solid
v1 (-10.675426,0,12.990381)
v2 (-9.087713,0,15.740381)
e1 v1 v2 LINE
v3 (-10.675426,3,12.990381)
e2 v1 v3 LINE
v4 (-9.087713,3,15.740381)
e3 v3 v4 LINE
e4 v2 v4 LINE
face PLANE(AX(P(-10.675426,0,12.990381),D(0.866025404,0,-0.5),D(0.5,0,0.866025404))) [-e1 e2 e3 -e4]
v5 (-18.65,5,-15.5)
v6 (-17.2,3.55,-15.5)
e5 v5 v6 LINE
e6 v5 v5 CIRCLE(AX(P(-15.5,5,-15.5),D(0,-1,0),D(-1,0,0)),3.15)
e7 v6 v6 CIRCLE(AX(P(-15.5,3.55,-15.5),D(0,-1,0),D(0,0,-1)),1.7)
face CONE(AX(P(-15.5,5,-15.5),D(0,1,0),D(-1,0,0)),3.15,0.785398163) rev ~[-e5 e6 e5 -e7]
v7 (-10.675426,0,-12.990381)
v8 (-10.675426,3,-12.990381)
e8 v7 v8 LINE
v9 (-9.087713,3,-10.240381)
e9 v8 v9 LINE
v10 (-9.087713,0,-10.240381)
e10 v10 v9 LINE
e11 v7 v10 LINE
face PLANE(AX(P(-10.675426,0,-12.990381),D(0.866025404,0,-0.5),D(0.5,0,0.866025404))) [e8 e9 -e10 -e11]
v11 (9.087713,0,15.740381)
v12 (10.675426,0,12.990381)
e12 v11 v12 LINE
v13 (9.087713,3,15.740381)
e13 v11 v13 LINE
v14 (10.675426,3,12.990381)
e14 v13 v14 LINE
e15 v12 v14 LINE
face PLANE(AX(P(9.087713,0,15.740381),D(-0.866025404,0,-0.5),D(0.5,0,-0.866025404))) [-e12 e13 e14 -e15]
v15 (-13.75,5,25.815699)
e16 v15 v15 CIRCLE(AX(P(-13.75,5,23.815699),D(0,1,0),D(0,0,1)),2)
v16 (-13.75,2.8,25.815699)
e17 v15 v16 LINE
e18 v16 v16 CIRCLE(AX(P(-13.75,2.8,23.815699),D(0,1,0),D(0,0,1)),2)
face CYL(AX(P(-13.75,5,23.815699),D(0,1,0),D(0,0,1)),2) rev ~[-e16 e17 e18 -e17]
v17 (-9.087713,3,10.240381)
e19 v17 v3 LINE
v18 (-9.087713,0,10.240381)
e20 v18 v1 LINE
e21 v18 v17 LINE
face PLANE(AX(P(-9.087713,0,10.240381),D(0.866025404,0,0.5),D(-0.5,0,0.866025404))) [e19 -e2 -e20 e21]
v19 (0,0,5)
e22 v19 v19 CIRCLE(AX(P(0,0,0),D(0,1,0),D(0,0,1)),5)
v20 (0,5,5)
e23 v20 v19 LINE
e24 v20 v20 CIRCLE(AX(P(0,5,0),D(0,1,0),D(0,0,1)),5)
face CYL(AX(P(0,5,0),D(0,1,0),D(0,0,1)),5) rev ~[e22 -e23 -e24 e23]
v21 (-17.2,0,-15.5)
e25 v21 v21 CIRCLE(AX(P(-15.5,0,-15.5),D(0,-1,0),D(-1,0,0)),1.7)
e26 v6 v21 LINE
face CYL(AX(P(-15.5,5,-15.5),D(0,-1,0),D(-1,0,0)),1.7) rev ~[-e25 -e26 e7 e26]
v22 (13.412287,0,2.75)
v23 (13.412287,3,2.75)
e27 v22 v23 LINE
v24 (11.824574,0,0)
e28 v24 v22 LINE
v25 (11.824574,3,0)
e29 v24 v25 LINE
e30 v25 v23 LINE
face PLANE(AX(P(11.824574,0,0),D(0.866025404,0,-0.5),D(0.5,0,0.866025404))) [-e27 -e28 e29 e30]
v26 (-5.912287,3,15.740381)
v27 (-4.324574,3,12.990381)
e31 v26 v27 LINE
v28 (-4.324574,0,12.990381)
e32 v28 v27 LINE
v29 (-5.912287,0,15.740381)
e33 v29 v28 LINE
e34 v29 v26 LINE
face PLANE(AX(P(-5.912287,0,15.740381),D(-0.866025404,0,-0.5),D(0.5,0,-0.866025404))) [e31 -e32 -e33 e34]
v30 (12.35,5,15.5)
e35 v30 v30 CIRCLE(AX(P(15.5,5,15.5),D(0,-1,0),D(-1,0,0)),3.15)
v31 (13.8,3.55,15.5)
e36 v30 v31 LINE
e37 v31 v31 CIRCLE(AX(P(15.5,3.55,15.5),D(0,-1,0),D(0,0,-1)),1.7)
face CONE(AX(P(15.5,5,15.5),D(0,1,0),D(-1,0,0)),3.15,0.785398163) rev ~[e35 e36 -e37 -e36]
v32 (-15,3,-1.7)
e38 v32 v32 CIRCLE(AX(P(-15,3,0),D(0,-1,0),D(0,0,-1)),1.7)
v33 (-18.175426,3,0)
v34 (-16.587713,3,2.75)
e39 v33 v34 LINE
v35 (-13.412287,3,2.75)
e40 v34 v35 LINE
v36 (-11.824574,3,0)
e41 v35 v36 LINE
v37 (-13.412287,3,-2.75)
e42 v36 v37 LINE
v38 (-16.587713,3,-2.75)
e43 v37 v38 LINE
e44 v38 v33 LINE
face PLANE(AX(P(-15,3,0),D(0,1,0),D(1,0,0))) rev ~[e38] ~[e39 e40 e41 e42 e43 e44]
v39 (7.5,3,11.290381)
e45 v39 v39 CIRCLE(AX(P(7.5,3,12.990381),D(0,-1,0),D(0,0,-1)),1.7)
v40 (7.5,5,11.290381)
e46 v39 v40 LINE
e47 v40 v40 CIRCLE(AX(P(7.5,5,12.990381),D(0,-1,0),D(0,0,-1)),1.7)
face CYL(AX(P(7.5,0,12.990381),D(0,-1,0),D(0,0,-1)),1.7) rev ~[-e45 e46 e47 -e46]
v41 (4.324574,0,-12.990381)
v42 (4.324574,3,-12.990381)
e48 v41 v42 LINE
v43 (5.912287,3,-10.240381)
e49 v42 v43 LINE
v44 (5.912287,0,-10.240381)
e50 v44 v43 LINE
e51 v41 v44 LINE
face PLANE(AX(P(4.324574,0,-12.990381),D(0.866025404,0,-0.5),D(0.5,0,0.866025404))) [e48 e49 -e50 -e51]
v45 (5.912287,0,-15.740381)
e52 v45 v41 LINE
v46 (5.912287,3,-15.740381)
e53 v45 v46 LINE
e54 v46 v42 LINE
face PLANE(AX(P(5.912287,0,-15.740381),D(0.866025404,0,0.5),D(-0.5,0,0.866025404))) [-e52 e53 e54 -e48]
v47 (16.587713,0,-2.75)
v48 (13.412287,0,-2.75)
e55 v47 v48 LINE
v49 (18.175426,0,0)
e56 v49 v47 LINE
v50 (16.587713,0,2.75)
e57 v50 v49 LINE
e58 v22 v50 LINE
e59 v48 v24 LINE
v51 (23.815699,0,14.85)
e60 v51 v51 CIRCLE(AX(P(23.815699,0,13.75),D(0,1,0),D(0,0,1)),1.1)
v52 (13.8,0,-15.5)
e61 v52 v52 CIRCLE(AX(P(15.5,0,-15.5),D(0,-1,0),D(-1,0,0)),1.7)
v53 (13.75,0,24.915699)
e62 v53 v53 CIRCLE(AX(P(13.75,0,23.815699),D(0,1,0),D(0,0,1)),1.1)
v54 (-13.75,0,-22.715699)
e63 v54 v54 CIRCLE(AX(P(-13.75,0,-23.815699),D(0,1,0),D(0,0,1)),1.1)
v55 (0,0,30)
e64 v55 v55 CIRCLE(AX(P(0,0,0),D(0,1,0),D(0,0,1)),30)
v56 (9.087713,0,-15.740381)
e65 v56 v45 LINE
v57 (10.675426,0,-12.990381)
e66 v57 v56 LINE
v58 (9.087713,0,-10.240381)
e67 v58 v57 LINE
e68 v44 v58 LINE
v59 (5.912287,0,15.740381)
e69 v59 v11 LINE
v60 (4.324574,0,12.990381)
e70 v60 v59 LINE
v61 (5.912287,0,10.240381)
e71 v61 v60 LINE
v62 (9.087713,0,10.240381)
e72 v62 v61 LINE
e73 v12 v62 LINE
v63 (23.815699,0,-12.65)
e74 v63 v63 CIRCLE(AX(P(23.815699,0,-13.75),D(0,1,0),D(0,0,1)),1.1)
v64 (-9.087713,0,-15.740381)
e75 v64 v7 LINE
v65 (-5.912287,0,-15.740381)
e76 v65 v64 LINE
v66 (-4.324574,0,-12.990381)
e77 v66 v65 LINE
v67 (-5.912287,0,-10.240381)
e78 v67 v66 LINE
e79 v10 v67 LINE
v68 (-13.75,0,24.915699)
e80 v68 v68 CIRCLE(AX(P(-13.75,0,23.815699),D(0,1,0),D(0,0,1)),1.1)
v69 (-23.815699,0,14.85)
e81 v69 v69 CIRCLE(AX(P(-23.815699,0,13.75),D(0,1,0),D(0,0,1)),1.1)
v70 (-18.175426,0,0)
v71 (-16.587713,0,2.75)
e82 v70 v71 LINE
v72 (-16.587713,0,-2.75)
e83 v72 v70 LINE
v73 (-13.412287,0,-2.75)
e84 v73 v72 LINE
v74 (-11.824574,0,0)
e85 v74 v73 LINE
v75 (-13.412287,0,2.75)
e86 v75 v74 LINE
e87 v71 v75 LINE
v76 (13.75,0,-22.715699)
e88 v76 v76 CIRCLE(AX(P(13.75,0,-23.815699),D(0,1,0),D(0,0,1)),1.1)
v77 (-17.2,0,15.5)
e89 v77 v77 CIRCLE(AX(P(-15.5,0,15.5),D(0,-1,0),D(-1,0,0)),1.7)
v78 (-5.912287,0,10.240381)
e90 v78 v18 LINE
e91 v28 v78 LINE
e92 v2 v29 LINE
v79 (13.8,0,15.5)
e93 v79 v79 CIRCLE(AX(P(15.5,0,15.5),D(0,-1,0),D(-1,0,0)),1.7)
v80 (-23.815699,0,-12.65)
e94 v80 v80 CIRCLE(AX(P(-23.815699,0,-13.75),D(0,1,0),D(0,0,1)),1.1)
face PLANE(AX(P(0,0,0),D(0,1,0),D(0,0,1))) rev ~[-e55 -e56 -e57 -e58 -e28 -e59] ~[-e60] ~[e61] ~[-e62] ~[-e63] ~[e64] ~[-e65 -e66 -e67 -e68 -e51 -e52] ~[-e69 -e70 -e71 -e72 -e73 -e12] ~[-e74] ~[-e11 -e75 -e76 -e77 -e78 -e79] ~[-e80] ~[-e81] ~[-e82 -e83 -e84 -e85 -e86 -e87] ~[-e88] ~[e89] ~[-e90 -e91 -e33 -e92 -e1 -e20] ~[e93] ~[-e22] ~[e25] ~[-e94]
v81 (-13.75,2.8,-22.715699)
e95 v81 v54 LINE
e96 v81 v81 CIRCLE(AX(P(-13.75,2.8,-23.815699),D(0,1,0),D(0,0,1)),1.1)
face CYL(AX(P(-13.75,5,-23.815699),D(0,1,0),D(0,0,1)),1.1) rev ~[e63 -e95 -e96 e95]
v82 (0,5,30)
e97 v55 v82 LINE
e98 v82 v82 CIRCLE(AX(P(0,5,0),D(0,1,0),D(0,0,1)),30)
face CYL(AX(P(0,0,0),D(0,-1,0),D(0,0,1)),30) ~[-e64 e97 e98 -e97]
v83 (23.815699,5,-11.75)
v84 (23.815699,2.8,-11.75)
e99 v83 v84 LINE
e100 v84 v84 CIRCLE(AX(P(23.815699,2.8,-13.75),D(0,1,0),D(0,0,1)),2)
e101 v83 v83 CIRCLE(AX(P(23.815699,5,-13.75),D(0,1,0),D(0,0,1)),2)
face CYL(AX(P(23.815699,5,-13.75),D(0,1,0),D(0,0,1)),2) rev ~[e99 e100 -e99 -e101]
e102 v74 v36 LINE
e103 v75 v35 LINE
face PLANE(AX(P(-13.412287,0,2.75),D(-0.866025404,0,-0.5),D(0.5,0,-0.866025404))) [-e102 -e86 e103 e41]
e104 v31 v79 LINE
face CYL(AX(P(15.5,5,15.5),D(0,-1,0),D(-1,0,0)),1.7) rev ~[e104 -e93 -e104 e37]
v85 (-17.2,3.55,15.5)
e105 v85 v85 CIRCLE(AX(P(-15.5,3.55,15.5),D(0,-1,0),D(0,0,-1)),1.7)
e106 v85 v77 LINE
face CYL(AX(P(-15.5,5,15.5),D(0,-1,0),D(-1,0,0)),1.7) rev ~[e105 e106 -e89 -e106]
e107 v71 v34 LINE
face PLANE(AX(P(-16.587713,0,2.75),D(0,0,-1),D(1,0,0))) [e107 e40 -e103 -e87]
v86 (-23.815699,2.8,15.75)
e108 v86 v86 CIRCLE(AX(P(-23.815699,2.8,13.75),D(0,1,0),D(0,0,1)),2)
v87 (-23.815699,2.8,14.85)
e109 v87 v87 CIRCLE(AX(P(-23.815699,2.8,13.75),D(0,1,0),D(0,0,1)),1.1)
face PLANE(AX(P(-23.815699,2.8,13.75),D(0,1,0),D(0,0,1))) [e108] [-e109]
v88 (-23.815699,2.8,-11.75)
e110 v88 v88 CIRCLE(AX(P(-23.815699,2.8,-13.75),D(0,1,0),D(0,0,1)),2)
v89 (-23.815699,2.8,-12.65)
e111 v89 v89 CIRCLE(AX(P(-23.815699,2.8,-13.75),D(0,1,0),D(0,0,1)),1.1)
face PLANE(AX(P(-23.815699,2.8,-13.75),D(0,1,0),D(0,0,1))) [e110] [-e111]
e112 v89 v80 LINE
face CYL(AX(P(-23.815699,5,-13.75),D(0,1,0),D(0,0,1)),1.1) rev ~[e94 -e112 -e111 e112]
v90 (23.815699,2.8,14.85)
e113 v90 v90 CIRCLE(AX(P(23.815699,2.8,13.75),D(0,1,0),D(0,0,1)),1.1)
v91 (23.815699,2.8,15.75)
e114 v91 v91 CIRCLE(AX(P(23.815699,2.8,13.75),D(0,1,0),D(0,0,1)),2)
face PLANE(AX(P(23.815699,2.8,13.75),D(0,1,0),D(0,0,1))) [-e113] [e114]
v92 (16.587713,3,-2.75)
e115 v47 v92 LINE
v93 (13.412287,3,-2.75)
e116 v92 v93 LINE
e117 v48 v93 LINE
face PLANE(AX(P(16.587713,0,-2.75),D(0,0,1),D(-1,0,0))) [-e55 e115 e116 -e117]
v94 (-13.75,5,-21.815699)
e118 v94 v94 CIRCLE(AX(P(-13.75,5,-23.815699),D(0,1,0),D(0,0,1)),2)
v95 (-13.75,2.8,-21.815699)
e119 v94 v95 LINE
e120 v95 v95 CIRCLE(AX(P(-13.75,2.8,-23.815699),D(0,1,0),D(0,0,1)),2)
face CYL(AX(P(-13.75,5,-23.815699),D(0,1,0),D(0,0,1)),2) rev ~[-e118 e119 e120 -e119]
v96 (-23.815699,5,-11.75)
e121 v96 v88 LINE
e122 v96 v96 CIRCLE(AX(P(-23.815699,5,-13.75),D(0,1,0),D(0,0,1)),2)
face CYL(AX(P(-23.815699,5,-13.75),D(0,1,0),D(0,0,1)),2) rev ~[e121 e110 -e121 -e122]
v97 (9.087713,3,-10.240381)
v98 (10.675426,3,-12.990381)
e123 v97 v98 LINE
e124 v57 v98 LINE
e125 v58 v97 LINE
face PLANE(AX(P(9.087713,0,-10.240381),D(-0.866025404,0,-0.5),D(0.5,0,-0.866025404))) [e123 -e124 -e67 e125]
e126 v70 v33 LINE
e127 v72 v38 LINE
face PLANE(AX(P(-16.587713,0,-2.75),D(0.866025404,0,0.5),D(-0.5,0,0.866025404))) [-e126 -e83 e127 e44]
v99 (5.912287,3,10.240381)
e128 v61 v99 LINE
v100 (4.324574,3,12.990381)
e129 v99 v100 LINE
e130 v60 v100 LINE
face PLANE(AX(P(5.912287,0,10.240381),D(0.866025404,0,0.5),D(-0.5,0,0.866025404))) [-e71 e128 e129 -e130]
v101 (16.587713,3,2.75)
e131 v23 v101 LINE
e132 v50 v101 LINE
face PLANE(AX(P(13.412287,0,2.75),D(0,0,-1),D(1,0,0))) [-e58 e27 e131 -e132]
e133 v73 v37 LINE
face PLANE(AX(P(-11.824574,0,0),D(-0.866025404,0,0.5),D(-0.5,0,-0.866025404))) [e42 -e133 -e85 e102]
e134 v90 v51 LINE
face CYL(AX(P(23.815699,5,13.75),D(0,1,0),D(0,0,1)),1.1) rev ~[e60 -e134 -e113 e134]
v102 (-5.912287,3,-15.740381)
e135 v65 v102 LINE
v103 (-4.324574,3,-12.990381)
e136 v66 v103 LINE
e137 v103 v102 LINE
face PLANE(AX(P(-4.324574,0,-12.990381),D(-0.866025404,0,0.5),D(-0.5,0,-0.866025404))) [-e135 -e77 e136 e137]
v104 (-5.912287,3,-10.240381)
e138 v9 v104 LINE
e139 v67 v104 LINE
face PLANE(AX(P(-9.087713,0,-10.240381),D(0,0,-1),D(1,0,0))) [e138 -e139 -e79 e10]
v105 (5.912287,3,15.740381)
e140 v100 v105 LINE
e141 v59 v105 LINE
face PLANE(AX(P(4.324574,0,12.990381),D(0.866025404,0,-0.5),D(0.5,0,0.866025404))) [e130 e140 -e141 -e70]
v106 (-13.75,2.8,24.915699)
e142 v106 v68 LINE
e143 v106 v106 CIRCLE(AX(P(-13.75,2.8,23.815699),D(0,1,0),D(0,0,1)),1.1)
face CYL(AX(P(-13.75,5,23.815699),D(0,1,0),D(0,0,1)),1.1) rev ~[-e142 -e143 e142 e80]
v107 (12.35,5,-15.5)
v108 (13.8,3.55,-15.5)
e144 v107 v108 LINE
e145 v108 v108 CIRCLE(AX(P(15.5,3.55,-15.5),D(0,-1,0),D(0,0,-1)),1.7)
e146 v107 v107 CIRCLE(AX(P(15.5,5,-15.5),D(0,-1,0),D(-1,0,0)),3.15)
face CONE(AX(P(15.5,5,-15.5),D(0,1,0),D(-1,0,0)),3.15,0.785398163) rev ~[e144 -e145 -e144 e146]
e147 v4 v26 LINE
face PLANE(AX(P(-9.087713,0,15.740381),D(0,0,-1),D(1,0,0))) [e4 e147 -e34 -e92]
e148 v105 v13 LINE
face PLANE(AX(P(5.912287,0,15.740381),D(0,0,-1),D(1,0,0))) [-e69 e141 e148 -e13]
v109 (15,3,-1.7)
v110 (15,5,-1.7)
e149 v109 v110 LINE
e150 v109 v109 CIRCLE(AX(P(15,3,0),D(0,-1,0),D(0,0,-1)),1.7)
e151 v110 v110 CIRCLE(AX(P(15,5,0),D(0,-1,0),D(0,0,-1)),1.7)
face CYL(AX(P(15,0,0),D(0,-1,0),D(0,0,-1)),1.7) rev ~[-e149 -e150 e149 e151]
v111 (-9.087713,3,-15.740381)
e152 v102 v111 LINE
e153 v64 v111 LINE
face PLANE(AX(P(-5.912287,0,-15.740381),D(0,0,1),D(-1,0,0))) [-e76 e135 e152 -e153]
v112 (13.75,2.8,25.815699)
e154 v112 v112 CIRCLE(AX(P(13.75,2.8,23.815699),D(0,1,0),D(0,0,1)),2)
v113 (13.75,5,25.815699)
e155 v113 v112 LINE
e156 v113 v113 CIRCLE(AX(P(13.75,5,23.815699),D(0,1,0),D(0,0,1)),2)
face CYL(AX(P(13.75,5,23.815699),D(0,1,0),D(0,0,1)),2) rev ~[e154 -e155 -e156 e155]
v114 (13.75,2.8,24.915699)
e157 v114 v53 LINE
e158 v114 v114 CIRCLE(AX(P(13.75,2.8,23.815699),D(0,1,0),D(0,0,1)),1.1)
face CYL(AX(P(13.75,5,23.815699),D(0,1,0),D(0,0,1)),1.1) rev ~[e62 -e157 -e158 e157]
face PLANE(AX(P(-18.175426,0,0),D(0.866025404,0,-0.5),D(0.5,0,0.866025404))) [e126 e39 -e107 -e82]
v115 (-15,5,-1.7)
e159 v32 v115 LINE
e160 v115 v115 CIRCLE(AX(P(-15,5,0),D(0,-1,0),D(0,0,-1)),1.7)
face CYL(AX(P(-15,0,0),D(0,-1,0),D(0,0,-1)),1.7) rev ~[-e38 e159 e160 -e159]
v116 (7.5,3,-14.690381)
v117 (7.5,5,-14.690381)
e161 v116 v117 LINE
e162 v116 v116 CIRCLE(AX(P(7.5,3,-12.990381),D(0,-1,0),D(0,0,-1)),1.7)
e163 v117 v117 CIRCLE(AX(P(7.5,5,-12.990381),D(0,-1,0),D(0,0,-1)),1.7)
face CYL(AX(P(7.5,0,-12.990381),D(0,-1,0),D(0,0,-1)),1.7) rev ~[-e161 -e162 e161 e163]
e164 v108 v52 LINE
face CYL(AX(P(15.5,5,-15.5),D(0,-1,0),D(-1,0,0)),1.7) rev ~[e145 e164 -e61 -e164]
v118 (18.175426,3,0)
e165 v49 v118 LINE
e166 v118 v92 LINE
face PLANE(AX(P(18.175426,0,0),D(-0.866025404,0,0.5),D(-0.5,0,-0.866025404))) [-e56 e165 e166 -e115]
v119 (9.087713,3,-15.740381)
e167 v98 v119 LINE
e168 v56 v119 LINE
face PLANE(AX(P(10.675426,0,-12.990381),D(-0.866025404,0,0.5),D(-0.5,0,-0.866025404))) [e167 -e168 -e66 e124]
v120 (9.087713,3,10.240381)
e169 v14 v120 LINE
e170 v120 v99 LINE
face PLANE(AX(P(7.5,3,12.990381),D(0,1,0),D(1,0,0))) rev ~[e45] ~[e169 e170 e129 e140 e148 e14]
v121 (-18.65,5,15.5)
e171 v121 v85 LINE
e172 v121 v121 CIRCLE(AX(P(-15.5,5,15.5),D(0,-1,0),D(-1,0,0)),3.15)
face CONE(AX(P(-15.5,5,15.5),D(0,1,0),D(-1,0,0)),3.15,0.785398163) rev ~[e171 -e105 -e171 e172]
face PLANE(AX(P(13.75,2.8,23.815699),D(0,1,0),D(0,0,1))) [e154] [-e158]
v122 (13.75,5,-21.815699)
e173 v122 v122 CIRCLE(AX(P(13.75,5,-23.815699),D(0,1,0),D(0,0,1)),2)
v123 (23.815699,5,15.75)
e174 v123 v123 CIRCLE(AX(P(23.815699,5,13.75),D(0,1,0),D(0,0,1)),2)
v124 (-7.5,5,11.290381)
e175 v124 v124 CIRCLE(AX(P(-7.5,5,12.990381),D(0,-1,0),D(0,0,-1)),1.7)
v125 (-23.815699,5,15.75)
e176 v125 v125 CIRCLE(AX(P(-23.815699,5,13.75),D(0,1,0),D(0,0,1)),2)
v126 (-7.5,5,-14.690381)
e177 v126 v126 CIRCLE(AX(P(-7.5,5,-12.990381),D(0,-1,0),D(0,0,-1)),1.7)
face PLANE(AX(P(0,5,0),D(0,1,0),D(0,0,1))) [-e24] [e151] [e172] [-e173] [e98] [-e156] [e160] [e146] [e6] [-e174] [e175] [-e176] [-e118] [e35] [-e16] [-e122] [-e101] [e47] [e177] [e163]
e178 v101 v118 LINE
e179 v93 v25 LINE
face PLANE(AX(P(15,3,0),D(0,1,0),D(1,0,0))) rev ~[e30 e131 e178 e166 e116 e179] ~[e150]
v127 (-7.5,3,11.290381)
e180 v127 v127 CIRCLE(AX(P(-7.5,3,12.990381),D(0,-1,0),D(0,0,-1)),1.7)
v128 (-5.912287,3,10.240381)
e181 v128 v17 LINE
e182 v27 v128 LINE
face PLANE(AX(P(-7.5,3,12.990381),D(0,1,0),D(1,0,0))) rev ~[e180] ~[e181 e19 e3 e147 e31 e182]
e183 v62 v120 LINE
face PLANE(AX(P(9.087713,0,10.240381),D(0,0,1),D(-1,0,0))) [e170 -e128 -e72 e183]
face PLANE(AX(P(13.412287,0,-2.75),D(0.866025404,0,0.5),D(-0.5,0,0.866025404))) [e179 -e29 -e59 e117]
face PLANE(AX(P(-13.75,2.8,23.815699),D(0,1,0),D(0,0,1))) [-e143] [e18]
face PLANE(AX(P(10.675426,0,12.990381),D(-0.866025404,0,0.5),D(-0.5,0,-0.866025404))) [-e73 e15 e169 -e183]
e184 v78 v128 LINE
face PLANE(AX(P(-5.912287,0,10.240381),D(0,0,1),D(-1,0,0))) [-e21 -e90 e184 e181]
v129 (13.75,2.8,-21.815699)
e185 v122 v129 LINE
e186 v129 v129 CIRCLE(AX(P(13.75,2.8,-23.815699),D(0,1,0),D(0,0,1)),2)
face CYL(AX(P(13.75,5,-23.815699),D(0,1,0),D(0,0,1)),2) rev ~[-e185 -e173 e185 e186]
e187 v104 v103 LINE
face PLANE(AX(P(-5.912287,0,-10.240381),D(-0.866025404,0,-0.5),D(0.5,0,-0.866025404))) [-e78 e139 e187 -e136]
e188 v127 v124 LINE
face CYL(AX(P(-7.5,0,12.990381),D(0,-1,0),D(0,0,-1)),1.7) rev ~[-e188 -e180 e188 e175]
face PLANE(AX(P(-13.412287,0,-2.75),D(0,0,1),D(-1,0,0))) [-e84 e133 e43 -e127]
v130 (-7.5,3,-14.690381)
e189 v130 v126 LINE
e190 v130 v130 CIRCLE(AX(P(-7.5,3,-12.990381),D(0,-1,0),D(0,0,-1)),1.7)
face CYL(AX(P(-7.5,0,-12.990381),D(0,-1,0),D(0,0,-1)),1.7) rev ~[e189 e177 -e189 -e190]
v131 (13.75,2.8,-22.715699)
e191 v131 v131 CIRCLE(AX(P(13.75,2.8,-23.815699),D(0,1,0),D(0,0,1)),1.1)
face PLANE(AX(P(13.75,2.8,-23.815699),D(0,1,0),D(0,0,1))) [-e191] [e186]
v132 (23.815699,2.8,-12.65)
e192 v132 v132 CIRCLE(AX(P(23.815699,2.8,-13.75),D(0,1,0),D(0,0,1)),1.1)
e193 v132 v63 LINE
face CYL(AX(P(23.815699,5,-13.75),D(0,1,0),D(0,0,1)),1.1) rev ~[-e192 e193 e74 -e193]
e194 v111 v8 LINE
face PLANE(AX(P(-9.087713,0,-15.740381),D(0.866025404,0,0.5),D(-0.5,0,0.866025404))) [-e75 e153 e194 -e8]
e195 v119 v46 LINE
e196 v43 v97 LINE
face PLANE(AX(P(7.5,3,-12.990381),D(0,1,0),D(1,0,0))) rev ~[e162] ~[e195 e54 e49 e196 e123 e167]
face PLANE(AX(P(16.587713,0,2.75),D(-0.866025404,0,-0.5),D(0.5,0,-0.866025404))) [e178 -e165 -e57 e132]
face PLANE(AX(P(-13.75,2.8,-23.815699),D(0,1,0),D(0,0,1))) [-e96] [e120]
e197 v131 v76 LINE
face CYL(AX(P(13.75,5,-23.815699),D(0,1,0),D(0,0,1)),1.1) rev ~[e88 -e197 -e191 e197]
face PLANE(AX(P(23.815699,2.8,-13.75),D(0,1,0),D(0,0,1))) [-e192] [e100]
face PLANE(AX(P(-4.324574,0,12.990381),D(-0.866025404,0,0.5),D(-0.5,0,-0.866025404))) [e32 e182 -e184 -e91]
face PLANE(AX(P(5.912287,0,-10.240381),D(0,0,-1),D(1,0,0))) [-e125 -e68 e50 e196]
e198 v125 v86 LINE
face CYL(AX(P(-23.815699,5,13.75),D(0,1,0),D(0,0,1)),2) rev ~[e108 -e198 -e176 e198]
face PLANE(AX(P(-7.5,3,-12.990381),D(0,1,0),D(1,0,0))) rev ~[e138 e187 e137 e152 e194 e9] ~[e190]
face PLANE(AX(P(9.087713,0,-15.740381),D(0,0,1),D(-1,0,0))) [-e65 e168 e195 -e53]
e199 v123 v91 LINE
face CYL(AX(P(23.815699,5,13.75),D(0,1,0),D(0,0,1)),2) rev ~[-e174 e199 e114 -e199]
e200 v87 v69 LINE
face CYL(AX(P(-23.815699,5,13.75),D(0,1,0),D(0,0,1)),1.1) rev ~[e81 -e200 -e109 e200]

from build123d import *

# Parameters (mm, degrees)
SKETCH1_R                                       = 30
BOSS_EXTRUDE1_DEPTH                             = 5
CSK_FOR_M3_FLAT_HEAD_MACHINE_SCREW1_D           = 3.4
CSK_FOR_M3_FLAT_HEAD_MACHINE_SCREW1_CSINK_D     = 6.3
CSK_FOR_M3_FLAT_HEAD_MACHINE_SCREW1_CSINK_ANGLE = 90
CUT_EXTRUDE1_REACH                              = 44.72
SKETCH4_R                                       = 1.1
CUT_EXTRUDE2_REACH                              = 44.72
SKETCH5_R                                       = 5
SKETCH7_R                                       = 2
CUT_EXTRUDE3_DEPTH                              = 2.2
CUT_EXTRUDE4_DEPTH                              = 3
SKETCH9_R                                       = 1.7
CUT_EXTRUDE5_DEPTH                              = 43.720018727


with BuildPart() as part:
    # Sketch1 → Boss-Extrude1 (new body)
    with BuildSketch(Plane(origin=(0, 0, 0), x_dir=(1, 0, 0), z_dir=(0, 1, 0))):
        with Locations(Location((0, 0, 0), (0, 0, 270))):
            Circle(SKETCH1_R)
    extrude(amount=BOSS_EXTRUDE1_DEPTH)

    # CSK for M3 Flat Head Machine Screw1 (through all)
    with Locations(Plane(origin=(0, 5, 0), x_dir=(1, 0, 0), z_dir=(0, 1, 0))):
        with Locations((-15.5, -15.5), (15.5, 15.5), (-15.5, 15.5), (15.5, -15.5)):
            CounterSinkHole(CSK_FOR_M3_FLAT_HEAD_MACHINE_SCREW1_D / 2, CSK_FOR_M3_FLAT_HEAD_MACHINE_SCREW1_CSINK_D / 2, counter_sink_angle=CSK_FOR_M3_FLAT_HEAD_MACHINE_SCREW1_CSINK_ANGLE)

    # Sketch4 → Cut-Extrude1 (cut, up to next)
    with BuildSketch(Plane(origin=(0, 5, 0), x_dir=(1, 0, 0), z_dir=(0, 1, 0)), mode=Mode.PRIVATE) as cut_extrude1_sk1:
        with Locations(Location((-13.75, 23.815698604, 0), (0, 0, 270))):
            Circle(SKETCH4_R)
    cut_extrude1_tool1 = extrude(cut_extrude1_sk1.sketch, amount=-CUT_EXTRUDE1_REACH, mode=Mode.PRIVATE) & part.part
    # Sketch4 → Cut-Extrude1 (cut, up to next)
    with BuildSketch(Plane(origin=(0, 5, 0), x_dir=(1, 0, 0), z_dir=(0, 1, 0)), mode=Mode.PRIVATE) as cut_extrude1_sk2:
        with Locations(Location((-23.815698604, 13.75, 0), (0, 0, 270))):
            Circle(SKETCH4_R)
    cut_extrude1_tool2 = extrude(cut_extrude1_sk2.sketch, amount=-CUT_EXTRUDE1_REACH, mode=Mode.PRIVATE) & part.part
    # Sketch4 → Cut-Extrude1 (cut, up to next)
    with BuildSketch(Plane(origin=(0, 5, 0), x_dir=(1, 0, 0), z_dir=(0, 1, 0)), mode=Mode.PRIVATE) as cut_extrude1_sk3:
        with Locations(Location((13.75, 23.815698604, 0), (0, 0, 270))):
            Circle(SKETCH4_R)
    cut_extrude1_tool3 = extrude(cut_extrude1_sk3.sketch, amount=-CUT_EXTRUDE1_REACH, mode=Mode.PRIVATE) & part.part
    # Sketch4 → Cut-Extrude1 (cut, up to next)
    with BuildSketch(Plane(origin=(0, 5, 0), x_dir=(1, 0, 0), z_dir=(0, 1, 0)), mode=Mode.PRIVATE) as cut_extrude1_sk4:
        with Locations(Location((23.815698604, 13.75, 0), (0, 0, 270))):
            Circle(SKETCH4_R)
    cut_extrude1_tool4 = extrude(cut_extrude1_sk4.sketch, amount=-CUT_EXTRUDE1_REACH, mode=Mode.PRIVATE) & part.part
    # Sketch4 → Cut-Extrude1 (cut, up to next)
    with BuildSketch(Plane(origin=(0, 5, 0), x_dir=(1, 0, 0), z_dir=(0, 1, 0)), mode=Mode.PRIVATE) as cut_extrude1_sk5:
        with Locations(Location((23.815698604, -13.75, 0), (0, 0, 270))):
            Circle(SKETCH4_R)
    cut_extrude1_tool5 = extrude(cut_extrude1_sk5.sketch, amount=-CUT_EXTRUDE1_REACH, mode=Mode.PRIVATE) & part.part
    # Sketch4 → Cut-Extrude1 (cut, up to next)
    with BuildSketch(Plane(origin=(0, 5, 0), x_dir=(1, 0, 0), z_dir=(0, 1, 0)), mode=Mode.PRIVATE) as cut_extrude1_sk6:
        with Locations(Location((13.75, -23.815698604, 0), (0, 0, 270))):
            Circle(SKETCH4_R)
    cut_extrude1_tool6 = extrude(cut_extrude1_sk6.sketch, amount=-CUT_EXTRUDE1_REACH, mode=Mode.PRIVATE) & part.part
    # Sketch4 → Cut-Extrude1 (cut, up to next)
    with BuildSketch(Plane(origin=(0, 5, 0), x_dir=(1, 0, 0), z_dir=(0, 1, 0)), mode=Mode.PRIVATE) as cut_extrude1_sk7:
        with Locations(Location((-13.75, -23.815698604, 0), (0, 0, 270))):
            Circle(SKETCH4_R)
    cut_extrude1_tool7 = extrude(cut_extrude1_sk7.sketch, amount=-CUT_EXTRUDE1_REACH, mode=Mode.PRIVATE) & part.part
    # Sketch4 → Cut-Extrude1 (cut, up to next)
    with BuildSketch(Plane(origin=(0, 5, 0), x_dir=(1, 0, 0), z_dir=(0, 1, 0)), mode=Mode.PRIVATE) as cut_extrude1_sk8:
        with Locations(Location((-23.815698604, -13.75, 0), (0, 0, 270))):
            Circle(SKETCH4_R)
    cut_extrude1_tool8 = extrude(cut_extrude1_sk8.sketch, amount=-CUT_EXTRUDE1_REACH, mode=Mode.PRIVATE) & part.part
    add(cut_extrude1_tool1.solids().sort_by_distance((-13.75, 5, -23.815699))[0], mode=Mode.SUBTRACT)
    add(cut_extrude1_tool2.solids().sort_by_distance((-23.815699, 5, -13.75))[0], mode=Mode.SUBTRACT)
    add(cut_extrude1_tool3.solids().sort_by_distance((13.75, 5, -23.815699))[0], mode=Mode.SUBTRACT)
    add(cut_extrude1_tool4.solids().sort_by_distance((23.815699, 5, -13.75))[0], mode=Mode.SUBTRACT)
    add(cut_extrude1_tool5.solids().sort_by_distance((23.815699, 5, 13.75))[0], mode=Mode.SUBTRACT)
    add(cut_extrude1_tool6.solids().sort_by_distance((13.75, 5, 23.815699))[0], mode=Mode.SUBTRACT)
    add(cut_extrude1_tool7.solids().sort_by_distance((-13.75, 5, 23.815699))[0], mode=Mode.SUBTRACT)
    add(cut_extrude1_tool8.solids().sort_by_distance((-23.815699, 5, 13.75))[0], mode=Mode.SUBTRACT)

    # Sketch5 → Cut-Extrude2 (cut, up to next)
    with BuildSketch(Plane(origin=(0, 5, 0), x_dir=(1, 0, 0), z_dir=(0, 1, 0)), mode=Mode.PRIVATE) as cut_extrude2_sk1:
        with Locations(Location((0, 0, 0), (0, 0, 270))):
            Circle(SKETCH5_R)
    cut_extrude2_tool1 = extrude(cut_extrude2_sk1.sketch, amount=-CUT_EXTRUDE2_REACH, mode=Mode.PRIVATE) & part.part
    add(cut_extrude2_tool1.solids().sort_by_distance((0, 5, 0))[0], mode=Mode.SUBTRACT)

    # Sketch7 → Cut-Extrude3 (cut)
    with BuildSketch(Plane(origin=(0, 5, 0), x_dir=(1, 0, 0), z_dir=(0, 1, 0))):
        with Locations(Location((-13.75, 23.815698604, 0), (0, 0, 270))):
            Circle(SKETCH7_R)
        with Locations(Location((-23.815698604, 13.75, 0), (0, 0, 270))):
            Circle(SKETCH7_R)
        with Locations(Location((13.75, 23.815698604, 0), (0, 0, 270))):
            Circle(SKETCH7_R)
        with Locations(Location((23.815698604, 13.75, 0), (0, 0, 270))):
            Circle(SKETCH7_R)
        with Locations(Location((23.815698604, -13.75, 0), (0, 0, 270))):
            Circle(SKETCH7_R)
        with Locations(Location((13.75, -23.815698604, 0), (0, 0, 270))):
            Circle(SKETCH7_R)
        with Locations(Location((-13.75, -23.815698604, 0), (0, 0, 270))):
            Circle(SKETCH7_R)
        with Locations(Location((-23.815698604, -13.75, 0), (0, 0, 270))):
            Circle(SKETCH7_R)
    extrude(amount=-CUT_EXTRUDE3_DEPTH, mode=Mode.SUBTRACT)

    # Sketch8 → Cut-Extrude4 (cut)
    with BuildSketch(Plane(origin=(0, 0, 0), x_dir=(1, 0, 0), z_dir=(0, 1, 0))):
        Polygon((-9.08771324, 15.740381057), (-10.675426481, 12.990381057), (-9.08771324, 10.240381057), (-5.91228676, 10.240381057), (-4.324573519, 12.990381057), (-5.91228676, 15.740381057), align=None)
        Polygon((-18.175426481, 0), (-16.58771324, -2.75), (-13.41228676, -2.75), (-11.824573519, 0), (-13.41228676, 2.75), (-16.58771324, 2.75), align=None)
        Polygon((9.08771324, 15.740381057), (5.91228676, 15.740381057), (4.324573519, 12.990381057), (5.91228676, 10.240381057), (9.08771324, 10.240381057), (10.675426481, 12.990381057), align=None)
        Polygon((18.175426481, 0), (16.58771324, 2.75), (13.41228676, 2.75), (11.824573519, 0), (13.41228676, -2.75), (16.58771324, -2.75), align=None)
        Polygon((9.08771324, -15.740381057), (10.675426481, -12.990381057), (9.08771324, -10.240381057), (5.91228676, -10.240381057), (4.324573519, -12.990381057), (5.91228676, -15.740381057), align=None)
        Polygon((-9.08771324, -15.740381057), (-5.91228676, -15.740381057), (-4.324573519, -12.990381057), (-5.91228676, -10.240381057), (-9.08771324, -10.240381057), (-10.675426481, -12.990381057), align=None)
    extrude(amount=CUT_EXTRUDE4_DEPTH, mode=Mode.SUBTRACT)

    # Sketch9 → Cut-Extrude5 (cut, through all)
    with BuildSketch(Plane.XZ):
        with Locations(Location((15, 0, 0), (0, 0, 270))):
            Circle(SKETCH9_R)
        with Locations(Location((7.5, -12.990381057, 0), (0, 0, 270))):
            Circle(SKETCH9_R)
        with Locations(Location((-7.5, -12.990381057, 0), (0, 0, 270))):
            Circle(SKETCH9_R)
        with Locations(Location((-15, 0, 0), (0, 0, 270))):
            Circle(SKETCH9_R)
        with Locations(Location((-7.5, 12.990381057, 0), (0, 0, 270))):
            Circle(SKETCH9_R)
        with Locations(Location((7.5, 12.990381057, 0), (0, 0, 270))):
            Circle(SKETCH9_R)
    extrude(amount=-CUT_EXTRUDE5_DEPTH, mode=Mode.SUBTRACT)


solid = part.part
